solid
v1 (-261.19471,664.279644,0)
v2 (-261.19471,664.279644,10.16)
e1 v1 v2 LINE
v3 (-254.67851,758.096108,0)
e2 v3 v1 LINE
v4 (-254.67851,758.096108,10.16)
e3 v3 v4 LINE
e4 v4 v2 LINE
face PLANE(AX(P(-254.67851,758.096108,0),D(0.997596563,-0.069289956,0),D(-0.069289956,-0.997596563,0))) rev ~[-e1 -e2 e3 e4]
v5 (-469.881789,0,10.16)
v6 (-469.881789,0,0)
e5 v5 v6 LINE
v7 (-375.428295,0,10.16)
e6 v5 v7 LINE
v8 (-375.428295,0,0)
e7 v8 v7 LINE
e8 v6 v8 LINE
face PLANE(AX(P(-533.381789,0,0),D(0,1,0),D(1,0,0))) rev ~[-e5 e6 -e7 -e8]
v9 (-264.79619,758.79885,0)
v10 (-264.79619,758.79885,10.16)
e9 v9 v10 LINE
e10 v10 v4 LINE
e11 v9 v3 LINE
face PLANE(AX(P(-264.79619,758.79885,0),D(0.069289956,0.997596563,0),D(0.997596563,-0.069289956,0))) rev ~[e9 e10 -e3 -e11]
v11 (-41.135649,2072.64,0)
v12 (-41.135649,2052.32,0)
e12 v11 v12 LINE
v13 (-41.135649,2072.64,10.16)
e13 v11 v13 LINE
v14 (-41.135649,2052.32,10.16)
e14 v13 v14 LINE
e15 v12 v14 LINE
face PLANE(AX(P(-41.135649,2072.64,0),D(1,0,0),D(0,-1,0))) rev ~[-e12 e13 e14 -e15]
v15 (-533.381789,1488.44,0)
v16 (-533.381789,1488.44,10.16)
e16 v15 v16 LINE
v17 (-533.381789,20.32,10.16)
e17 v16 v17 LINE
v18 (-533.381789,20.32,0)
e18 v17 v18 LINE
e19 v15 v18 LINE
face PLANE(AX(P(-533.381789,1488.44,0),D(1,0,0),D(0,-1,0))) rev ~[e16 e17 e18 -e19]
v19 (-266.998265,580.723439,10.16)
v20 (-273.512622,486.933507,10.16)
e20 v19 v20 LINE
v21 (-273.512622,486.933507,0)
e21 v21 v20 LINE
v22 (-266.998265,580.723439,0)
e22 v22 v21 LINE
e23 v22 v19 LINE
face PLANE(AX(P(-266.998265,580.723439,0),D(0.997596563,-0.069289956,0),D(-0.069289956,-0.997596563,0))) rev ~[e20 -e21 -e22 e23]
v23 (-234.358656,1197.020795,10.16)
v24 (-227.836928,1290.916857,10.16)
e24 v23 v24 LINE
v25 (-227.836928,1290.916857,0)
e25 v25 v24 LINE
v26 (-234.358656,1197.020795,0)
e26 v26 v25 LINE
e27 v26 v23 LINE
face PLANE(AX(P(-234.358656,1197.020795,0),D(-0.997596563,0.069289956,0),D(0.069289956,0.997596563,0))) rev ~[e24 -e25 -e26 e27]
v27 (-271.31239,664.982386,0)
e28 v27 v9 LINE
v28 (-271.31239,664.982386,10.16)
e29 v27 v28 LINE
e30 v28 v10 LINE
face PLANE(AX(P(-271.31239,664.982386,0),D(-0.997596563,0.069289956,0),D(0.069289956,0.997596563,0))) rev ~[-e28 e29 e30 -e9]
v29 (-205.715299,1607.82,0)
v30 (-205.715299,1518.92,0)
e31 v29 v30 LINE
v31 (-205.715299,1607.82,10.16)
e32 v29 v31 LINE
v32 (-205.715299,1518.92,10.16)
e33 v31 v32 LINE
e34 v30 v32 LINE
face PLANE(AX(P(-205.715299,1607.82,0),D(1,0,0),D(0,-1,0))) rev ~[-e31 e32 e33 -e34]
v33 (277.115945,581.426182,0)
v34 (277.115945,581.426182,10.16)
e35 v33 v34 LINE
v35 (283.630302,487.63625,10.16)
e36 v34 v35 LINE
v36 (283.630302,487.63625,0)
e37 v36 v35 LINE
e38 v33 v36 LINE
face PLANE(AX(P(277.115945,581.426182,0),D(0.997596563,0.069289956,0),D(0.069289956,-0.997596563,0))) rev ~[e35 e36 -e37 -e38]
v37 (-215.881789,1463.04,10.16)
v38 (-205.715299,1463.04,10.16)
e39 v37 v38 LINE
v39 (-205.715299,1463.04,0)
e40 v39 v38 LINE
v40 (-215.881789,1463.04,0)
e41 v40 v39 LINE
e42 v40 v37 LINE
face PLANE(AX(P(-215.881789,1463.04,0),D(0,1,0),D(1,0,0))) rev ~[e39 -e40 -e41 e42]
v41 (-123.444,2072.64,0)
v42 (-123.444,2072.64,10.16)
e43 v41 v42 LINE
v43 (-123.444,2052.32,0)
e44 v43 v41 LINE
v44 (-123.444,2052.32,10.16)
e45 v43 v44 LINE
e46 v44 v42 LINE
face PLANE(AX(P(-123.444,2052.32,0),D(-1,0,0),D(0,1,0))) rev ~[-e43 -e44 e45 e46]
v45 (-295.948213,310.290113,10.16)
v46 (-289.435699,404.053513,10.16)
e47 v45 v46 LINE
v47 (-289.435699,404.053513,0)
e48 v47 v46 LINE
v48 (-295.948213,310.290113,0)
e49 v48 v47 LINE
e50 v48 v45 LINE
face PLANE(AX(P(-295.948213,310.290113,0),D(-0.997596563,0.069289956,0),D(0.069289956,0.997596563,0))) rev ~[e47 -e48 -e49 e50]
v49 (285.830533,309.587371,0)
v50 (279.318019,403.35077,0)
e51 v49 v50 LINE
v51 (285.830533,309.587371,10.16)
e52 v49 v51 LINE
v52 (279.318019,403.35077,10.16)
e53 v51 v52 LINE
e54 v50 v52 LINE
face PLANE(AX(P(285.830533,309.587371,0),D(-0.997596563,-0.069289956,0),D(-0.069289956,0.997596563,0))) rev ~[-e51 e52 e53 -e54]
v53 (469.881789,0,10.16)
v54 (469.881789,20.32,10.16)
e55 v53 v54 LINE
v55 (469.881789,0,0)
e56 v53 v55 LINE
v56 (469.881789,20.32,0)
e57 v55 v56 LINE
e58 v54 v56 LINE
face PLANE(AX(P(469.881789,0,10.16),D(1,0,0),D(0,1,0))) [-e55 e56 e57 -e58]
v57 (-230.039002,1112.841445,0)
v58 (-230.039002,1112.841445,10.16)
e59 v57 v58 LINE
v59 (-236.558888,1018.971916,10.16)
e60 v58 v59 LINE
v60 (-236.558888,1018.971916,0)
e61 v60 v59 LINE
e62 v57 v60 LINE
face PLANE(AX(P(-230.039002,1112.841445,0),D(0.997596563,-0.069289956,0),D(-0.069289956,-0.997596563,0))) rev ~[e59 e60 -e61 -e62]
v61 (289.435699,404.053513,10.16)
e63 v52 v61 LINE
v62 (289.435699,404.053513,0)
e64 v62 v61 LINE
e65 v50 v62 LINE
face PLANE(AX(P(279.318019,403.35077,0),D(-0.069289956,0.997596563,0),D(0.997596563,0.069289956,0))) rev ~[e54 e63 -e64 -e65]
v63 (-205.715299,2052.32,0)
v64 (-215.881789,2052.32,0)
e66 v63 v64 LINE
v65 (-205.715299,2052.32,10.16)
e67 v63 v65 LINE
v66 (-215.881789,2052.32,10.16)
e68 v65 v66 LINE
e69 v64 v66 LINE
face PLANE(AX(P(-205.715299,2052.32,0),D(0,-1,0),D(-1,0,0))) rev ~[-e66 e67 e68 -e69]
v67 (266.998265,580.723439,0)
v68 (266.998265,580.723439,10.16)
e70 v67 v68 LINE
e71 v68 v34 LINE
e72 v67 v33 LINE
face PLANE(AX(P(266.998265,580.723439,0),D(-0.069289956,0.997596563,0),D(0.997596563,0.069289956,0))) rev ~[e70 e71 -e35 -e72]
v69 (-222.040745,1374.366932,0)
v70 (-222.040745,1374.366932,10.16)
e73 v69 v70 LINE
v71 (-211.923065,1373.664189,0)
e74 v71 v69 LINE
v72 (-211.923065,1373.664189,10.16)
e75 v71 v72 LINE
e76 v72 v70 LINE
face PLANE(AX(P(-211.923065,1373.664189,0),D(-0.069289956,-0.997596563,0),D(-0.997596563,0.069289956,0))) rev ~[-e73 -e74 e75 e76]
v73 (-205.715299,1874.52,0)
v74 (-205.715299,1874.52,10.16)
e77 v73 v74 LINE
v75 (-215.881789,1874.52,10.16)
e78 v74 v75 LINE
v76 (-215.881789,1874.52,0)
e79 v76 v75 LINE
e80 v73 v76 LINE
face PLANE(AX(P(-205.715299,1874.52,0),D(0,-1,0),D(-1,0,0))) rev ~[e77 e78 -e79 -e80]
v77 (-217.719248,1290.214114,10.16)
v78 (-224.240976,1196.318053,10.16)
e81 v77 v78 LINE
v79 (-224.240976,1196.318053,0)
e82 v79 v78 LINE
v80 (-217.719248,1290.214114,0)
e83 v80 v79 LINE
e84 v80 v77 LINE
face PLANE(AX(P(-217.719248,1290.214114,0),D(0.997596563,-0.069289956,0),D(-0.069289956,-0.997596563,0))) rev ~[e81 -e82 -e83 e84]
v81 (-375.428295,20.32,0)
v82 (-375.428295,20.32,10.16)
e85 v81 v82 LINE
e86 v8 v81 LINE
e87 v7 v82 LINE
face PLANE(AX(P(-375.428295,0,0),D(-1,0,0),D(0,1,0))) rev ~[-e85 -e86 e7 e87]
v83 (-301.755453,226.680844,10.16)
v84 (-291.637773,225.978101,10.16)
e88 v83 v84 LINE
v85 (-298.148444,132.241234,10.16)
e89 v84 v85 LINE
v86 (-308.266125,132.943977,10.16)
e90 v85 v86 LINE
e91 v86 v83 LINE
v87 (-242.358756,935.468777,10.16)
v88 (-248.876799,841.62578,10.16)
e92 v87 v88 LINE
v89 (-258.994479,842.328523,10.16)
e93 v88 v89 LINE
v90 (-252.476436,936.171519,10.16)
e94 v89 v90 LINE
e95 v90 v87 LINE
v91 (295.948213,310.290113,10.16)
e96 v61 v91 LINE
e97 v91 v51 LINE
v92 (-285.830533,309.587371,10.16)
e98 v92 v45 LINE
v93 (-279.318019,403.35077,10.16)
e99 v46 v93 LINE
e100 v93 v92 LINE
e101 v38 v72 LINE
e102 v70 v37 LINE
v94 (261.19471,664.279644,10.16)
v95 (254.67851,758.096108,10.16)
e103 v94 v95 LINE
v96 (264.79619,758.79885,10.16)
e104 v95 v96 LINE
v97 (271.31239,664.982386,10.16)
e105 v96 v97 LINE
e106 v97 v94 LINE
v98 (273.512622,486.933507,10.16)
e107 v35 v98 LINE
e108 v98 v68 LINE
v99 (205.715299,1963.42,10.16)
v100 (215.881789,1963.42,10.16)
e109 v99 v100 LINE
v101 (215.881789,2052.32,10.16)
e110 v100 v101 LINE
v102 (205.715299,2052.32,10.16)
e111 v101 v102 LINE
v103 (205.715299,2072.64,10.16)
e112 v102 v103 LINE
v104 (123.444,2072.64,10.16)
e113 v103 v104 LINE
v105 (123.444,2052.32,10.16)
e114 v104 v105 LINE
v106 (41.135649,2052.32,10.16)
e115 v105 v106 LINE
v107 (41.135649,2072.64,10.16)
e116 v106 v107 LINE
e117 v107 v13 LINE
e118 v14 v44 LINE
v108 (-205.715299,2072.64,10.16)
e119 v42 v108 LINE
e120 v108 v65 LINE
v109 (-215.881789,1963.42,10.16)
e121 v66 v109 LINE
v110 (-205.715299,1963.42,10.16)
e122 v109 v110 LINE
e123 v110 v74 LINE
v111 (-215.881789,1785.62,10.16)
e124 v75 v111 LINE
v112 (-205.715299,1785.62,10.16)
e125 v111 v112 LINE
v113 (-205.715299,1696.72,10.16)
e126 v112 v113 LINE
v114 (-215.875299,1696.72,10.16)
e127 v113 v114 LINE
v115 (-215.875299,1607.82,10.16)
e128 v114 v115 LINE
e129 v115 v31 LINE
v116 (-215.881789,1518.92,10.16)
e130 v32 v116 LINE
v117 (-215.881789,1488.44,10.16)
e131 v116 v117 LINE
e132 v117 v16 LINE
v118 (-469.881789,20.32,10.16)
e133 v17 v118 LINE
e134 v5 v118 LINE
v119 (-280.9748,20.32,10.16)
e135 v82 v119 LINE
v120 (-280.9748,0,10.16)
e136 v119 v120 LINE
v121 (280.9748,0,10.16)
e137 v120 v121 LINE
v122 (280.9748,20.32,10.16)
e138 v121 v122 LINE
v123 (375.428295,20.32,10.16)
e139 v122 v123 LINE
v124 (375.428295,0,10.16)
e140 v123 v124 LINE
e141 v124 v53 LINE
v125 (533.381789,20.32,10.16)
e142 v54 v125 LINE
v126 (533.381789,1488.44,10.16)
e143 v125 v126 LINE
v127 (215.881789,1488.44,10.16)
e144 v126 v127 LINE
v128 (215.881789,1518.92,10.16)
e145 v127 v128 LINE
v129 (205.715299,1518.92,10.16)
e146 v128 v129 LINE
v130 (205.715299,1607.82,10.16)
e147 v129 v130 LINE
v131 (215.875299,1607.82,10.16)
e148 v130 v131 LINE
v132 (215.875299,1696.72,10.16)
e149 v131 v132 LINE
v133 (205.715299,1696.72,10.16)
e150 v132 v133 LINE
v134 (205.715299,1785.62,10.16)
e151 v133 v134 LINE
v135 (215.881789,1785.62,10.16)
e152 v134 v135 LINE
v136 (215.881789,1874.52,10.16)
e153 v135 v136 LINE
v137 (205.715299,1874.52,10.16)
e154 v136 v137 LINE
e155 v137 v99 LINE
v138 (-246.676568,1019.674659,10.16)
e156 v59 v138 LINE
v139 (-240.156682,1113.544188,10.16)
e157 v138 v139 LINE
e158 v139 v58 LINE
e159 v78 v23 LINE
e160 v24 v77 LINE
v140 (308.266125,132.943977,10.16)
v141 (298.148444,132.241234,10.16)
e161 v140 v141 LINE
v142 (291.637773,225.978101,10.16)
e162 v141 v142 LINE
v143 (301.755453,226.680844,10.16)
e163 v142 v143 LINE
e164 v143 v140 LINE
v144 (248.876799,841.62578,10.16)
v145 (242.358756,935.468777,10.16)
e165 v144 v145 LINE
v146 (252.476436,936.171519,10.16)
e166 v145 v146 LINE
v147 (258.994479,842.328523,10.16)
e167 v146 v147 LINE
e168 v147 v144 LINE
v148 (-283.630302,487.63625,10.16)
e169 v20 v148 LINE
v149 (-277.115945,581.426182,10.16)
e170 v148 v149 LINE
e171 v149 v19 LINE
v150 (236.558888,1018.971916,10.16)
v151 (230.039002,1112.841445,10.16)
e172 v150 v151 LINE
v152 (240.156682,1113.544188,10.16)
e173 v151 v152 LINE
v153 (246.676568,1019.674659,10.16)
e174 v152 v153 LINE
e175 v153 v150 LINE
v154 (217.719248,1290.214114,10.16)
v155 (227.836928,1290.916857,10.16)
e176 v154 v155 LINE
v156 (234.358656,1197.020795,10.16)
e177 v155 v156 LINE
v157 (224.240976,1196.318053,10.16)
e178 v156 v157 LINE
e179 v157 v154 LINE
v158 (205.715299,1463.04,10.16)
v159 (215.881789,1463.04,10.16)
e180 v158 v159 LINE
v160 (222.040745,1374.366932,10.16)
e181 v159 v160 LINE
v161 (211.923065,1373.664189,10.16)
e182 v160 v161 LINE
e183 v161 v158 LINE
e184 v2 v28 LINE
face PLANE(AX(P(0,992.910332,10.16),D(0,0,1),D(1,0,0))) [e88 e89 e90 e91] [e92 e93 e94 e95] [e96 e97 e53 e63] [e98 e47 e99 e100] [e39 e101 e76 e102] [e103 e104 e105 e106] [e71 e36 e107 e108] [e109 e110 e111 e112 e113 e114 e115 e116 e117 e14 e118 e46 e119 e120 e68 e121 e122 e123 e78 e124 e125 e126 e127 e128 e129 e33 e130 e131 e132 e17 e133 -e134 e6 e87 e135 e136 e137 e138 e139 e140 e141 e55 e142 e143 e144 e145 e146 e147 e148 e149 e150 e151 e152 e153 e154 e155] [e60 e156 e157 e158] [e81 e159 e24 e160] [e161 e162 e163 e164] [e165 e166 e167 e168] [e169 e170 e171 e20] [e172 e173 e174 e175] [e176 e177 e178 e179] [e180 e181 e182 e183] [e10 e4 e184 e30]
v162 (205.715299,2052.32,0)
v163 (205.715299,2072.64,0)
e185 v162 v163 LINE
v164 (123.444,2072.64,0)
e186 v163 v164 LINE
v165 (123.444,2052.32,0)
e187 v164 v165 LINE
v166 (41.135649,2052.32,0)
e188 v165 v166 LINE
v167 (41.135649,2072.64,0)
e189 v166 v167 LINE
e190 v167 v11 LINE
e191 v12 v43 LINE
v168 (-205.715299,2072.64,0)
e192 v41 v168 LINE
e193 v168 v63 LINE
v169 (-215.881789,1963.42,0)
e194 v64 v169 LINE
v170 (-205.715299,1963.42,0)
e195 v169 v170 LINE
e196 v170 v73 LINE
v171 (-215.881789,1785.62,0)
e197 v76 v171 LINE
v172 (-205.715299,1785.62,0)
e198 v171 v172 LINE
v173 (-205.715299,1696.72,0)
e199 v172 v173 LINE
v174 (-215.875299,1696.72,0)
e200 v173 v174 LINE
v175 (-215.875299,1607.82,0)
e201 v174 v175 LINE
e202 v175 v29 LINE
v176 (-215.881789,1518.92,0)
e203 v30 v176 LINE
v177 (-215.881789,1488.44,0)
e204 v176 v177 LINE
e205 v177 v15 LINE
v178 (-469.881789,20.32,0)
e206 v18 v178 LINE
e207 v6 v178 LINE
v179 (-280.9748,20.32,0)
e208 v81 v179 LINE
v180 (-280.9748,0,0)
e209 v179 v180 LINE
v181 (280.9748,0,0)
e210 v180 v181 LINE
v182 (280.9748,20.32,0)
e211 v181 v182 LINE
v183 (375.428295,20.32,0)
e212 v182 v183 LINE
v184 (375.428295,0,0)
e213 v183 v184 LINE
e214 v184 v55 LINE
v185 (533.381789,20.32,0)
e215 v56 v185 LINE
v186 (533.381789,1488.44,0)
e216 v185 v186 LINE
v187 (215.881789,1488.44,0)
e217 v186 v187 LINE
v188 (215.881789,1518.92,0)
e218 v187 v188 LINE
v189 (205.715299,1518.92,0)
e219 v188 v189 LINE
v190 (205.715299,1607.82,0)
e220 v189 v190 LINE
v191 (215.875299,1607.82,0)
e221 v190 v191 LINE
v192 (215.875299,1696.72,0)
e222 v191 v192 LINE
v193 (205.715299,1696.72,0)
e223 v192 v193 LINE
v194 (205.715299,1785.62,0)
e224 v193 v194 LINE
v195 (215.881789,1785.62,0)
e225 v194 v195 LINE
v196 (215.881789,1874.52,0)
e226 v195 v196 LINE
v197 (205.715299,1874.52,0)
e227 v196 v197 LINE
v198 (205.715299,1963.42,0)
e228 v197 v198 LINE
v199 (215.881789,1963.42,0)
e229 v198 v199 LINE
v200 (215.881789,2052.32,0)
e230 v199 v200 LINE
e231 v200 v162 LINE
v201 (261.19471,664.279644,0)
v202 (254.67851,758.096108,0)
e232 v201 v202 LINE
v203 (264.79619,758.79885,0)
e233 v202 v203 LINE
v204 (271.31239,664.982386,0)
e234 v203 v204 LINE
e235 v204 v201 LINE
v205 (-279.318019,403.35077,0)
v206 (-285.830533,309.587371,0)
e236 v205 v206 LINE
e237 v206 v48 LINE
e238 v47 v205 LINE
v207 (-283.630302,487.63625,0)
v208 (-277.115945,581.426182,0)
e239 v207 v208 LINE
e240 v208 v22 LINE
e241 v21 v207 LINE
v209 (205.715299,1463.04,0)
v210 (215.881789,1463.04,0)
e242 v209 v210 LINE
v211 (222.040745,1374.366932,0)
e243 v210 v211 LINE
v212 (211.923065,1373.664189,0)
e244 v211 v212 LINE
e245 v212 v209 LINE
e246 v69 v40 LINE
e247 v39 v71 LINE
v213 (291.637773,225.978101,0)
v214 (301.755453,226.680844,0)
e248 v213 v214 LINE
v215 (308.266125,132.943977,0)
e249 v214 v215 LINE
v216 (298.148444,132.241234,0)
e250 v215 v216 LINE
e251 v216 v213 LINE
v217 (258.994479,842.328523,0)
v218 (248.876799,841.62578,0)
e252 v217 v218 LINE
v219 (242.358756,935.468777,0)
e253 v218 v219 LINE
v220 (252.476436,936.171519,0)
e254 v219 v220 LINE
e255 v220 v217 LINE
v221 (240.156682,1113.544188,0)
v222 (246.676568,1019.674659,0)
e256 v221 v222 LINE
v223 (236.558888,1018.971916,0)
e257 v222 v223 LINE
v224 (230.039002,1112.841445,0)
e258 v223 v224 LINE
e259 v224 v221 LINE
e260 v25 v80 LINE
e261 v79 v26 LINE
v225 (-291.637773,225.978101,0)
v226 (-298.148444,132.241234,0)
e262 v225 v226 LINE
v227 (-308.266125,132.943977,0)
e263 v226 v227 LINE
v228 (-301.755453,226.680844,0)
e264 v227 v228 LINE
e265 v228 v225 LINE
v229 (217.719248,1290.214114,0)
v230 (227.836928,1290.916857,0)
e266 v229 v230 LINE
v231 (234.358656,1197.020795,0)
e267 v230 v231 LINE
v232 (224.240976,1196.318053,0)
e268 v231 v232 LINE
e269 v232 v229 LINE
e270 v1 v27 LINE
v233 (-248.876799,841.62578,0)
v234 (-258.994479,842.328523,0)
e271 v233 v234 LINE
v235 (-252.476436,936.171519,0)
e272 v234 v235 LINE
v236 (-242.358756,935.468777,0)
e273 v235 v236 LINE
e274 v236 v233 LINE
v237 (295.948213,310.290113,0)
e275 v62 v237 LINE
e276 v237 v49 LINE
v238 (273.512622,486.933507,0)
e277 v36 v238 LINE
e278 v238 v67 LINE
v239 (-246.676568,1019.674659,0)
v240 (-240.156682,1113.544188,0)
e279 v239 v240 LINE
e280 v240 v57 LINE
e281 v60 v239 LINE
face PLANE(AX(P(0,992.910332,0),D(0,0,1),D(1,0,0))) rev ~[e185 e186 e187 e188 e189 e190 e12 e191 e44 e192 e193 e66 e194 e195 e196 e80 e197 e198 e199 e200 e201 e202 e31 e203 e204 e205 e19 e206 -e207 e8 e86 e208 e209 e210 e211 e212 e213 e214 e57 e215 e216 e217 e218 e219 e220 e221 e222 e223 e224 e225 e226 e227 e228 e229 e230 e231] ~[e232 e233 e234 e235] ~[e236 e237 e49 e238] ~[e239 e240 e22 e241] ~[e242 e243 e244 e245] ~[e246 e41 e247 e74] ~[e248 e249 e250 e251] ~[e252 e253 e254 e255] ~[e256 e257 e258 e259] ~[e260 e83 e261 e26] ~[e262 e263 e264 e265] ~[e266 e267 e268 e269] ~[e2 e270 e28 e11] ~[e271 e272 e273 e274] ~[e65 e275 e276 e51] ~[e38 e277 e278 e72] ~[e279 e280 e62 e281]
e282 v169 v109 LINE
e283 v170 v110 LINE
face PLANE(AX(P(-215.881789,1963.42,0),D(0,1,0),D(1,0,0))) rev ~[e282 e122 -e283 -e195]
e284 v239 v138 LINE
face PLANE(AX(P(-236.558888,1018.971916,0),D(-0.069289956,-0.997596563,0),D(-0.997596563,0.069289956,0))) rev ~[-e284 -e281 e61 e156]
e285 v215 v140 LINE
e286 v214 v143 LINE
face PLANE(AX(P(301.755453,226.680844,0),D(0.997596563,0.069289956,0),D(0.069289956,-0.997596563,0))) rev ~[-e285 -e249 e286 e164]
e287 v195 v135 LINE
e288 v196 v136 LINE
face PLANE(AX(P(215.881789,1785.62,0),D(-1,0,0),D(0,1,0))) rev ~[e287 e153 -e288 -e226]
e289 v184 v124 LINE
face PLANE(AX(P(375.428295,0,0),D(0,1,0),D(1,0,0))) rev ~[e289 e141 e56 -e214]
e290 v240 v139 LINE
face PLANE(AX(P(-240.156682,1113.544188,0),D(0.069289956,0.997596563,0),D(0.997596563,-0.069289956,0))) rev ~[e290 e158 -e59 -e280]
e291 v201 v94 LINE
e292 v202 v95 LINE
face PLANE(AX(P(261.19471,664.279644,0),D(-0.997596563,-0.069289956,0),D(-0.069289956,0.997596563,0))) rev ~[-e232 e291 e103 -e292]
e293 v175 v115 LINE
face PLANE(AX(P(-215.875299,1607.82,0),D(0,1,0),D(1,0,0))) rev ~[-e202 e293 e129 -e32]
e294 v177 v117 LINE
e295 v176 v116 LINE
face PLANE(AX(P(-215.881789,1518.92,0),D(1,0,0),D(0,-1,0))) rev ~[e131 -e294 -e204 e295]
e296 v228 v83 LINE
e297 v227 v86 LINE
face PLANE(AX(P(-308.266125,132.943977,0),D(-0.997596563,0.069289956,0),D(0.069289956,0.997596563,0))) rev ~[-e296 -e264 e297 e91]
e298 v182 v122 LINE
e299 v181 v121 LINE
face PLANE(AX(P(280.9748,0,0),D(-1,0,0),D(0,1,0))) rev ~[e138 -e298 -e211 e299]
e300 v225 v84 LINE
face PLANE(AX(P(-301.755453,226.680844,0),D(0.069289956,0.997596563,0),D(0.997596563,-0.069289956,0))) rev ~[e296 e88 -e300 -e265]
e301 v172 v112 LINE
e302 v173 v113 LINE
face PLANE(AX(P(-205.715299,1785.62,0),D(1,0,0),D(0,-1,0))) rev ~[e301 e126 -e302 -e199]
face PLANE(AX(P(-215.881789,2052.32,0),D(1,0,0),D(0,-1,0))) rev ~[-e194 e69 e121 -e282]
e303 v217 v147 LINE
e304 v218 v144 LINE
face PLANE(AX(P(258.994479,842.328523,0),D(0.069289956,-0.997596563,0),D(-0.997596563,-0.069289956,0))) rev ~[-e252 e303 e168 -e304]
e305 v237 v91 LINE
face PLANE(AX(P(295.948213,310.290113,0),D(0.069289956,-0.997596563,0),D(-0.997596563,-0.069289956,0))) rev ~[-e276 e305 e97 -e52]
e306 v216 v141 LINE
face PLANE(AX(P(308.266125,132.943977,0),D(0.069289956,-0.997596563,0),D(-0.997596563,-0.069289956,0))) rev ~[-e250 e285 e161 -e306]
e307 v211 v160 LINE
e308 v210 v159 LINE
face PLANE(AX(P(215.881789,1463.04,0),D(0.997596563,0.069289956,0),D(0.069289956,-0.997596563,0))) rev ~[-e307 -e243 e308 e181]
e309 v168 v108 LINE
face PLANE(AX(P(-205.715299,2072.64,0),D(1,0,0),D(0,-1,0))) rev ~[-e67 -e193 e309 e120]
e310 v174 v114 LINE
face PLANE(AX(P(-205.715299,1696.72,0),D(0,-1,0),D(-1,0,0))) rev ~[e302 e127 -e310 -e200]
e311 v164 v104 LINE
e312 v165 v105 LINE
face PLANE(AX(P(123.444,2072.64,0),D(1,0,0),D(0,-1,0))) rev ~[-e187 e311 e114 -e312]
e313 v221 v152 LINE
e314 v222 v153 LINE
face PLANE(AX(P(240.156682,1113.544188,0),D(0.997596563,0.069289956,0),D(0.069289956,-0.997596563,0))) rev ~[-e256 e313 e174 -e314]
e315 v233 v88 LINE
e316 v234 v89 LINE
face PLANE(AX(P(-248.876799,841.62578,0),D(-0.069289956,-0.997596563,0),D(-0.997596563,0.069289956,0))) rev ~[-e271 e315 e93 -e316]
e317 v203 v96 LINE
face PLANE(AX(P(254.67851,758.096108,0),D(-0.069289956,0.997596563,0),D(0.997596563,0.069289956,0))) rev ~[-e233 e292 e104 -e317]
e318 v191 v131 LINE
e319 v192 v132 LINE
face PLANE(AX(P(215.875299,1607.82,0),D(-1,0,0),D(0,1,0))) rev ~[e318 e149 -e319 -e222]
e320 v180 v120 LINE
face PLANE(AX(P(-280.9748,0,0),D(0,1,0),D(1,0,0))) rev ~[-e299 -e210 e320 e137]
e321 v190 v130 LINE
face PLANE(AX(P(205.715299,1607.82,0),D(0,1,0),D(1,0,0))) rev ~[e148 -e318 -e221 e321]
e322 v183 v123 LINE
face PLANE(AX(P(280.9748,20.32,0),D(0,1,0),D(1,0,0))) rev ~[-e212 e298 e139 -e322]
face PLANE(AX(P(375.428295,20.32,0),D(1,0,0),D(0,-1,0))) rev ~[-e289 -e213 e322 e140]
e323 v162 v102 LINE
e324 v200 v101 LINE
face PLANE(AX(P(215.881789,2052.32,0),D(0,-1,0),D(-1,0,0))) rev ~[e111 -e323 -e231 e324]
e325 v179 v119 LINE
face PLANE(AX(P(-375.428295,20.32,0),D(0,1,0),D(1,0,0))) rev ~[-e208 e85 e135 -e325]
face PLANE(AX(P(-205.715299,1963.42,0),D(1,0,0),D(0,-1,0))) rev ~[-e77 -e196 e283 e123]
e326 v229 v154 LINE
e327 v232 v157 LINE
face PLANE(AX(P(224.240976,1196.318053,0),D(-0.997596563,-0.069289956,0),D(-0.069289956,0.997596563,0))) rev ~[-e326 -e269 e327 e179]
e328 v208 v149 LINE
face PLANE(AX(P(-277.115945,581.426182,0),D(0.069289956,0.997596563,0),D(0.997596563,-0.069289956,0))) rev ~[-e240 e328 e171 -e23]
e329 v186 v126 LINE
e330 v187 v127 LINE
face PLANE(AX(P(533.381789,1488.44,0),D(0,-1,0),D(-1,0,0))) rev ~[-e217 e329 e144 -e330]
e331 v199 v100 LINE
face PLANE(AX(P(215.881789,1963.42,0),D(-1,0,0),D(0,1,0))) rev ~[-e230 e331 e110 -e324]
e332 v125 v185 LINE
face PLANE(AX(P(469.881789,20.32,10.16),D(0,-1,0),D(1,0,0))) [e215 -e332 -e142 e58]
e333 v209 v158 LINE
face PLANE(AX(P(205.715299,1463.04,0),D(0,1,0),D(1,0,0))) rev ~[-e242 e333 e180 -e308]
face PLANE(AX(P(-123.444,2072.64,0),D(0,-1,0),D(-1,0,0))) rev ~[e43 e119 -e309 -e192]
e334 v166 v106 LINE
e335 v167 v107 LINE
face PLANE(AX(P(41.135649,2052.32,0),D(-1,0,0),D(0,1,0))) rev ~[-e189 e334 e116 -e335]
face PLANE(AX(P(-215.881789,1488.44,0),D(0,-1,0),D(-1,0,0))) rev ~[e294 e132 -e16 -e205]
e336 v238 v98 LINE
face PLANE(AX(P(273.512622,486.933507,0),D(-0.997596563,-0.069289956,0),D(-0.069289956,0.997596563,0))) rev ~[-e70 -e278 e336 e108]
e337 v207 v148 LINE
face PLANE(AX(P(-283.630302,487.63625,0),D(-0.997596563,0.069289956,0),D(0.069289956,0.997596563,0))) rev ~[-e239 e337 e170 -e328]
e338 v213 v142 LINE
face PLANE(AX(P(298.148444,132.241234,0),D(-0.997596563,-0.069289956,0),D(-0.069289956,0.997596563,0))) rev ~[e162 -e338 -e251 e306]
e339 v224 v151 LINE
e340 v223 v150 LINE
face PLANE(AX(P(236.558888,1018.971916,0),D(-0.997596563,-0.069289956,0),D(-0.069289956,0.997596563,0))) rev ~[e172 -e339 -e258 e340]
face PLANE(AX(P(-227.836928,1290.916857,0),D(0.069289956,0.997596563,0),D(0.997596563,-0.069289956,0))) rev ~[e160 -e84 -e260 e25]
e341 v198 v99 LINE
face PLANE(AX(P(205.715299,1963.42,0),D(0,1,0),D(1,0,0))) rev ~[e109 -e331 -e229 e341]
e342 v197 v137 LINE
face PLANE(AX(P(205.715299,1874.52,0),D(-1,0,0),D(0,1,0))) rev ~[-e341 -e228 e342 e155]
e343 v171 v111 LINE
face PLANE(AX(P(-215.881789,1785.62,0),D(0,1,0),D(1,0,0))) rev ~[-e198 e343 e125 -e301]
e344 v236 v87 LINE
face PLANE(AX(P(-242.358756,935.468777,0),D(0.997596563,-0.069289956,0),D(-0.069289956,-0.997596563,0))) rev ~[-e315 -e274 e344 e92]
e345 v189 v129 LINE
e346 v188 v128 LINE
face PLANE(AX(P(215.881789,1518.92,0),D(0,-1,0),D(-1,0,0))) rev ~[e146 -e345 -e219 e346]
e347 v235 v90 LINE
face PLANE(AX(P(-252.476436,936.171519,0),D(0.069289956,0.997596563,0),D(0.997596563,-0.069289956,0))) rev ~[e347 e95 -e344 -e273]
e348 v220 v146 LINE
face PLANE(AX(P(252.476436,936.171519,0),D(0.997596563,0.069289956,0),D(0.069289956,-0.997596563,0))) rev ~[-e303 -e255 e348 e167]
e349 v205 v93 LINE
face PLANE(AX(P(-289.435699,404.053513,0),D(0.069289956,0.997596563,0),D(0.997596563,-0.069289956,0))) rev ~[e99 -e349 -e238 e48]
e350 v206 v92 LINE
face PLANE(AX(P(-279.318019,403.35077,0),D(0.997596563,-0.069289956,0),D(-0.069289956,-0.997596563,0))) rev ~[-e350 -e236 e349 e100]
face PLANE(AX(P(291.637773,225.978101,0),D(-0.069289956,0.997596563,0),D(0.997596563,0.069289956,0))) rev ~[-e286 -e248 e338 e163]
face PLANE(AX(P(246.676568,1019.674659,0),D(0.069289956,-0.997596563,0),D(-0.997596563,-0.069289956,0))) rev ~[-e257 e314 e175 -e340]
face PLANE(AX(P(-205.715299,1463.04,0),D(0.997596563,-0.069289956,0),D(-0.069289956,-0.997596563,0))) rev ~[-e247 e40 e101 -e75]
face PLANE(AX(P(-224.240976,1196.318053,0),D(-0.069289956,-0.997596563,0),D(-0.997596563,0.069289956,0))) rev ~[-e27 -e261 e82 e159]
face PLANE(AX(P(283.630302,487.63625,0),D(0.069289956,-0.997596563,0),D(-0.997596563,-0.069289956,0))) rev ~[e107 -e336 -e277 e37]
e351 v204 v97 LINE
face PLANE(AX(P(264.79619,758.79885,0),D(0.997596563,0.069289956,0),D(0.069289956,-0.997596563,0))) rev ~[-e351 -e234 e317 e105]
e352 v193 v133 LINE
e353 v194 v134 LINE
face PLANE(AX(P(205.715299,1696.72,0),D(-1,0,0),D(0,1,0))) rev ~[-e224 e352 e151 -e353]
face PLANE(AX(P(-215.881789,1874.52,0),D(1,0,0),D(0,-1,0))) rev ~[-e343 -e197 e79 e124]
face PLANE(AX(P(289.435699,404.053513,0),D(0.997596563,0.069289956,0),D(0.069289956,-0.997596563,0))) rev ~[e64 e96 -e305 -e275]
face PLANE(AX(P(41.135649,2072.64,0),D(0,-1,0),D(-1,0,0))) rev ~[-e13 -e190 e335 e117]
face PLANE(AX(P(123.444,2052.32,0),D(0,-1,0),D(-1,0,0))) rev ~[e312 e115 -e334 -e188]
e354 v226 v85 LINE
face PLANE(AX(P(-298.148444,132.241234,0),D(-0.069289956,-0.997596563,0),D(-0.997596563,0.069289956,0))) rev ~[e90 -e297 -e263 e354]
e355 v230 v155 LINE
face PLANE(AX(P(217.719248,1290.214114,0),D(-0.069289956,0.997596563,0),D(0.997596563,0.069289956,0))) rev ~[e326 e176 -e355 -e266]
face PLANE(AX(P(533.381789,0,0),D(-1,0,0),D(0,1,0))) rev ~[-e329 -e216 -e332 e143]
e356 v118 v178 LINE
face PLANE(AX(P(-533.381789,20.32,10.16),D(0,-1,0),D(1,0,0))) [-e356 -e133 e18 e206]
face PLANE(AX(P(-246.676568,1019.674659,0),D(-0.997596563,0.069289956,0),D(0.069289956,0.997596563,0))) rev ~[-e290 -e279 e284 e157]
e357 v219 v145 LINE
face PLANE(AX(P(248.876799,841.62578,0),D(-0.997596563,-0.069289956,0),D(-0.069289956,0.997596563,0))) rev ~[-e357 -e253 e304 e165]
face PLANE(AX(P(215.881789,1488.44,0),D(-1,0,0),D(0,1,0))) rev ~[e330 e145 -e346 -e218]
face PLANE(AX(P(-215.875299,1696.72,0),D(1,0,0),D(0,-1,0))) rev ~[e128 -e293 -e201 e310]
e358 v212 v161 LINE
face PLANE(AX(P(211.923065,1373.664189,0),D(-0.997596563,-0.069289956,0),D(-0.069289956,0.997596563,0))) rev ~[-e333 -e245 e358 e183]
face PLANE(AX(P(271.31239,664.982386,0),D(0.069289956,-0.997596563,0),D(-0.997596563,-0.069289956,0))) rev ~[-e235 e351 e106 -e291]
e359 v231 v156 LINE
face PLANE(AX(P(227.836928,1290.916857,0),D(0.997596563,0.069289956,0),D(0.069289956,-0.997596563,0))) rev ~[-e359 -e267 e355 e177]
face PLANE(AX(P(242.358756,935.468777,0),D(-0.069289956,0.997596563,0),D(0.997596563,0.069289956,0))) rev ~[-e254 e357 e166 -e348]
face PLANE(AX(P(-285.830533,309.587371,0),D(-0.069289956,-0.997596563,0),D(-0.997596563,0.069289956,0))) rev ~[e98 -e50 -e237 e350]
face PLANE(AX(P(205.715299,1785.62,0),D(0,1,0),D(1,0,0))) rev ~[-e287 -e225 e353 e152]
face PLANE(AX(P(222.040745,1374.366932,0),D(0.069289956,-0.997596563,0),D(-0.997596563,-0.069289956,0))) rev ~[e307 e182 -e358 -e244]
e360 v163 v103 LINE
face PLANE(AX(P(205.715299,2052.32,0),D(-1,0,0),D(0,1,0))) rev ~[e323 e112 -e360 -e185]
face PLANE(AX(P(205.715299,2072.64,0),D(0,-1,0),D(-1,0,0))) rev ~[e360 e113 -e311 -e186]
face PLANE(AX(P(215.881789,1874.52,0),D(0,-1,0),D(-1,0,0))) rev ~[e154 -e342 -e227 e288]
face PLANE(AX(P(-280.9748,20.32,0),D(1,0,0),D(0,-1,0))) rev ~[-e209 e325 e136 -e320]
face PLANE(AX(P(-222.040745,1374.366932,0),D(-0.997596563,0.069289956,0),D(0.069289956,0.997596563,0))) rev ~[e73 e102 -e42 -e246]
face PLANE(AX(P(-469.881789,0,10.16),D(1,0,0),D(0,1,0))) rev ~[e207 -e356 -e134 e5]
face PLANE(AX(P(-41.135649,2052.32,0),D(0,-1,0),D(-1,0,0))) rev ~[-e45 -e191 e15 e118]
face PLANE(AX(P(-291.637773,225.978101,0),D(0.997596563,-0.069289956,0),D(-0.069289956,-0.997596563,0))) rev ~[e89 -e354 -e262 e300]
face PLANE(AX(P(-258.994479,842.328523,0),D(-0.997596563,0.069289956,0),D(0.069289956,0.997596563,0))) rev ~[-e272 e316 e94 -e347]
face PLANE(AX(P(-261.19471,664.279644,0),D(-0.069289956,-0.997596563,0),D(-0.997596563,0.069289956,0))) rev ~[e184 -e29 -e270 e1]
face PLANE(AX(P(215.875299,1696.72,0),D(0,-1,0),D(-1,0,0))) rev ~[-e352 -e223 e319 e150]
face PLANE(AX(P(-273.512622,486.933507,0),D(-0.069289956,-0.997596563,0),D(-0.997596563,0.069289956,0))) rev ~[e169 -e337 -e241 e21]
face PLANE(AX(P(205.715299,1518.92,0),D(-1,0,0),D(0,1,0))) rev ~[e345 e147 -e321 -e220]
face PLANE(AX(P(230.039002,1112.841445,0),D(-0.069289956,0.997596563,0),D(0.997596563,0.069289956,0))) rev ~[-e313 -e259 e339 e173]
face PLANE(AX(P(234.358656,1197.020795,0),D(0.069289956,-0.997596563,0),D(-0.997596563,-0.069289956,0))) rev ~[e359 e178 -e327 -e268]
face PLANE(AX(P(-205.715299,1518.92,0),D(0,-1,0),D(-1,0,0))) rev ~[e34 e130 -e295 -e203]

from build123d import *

# Parameters (mm, degrees)
BOSS_EXTRUDE1_DEPTH = 10.16
SKETCH5_W           = 63.5
SKETCH5_H           = 20.32
CUT_EXTRUDE1_DEPTH  = 11.16


with BuildPart() as part:
    # Sketch1 → Boss-Extrude1 (new body)
    with BuildSketch(Plane.XY):
        Polygon((-123.444, 2072.64), (-205.715298803, 2072.64), (-205.715298803, 2052.32), (-215.881789204, 2052.32), (-215.881789204, 1963.42), (-205.715298803, 1963.42), (-205.715298803, 1874.52), (-215.881789204, 1874.52), (-215.881789204, 1785.62), (-205.715298803, 1785.62), (-205.715298803, 1696.72), (-215.875298803, 1696.72), (-215.875298803, 1607.82), (-205.715298803, 1607.82), (-205.715298803, 1518.92), (-215.881789204, 1518.92), (-215.881789204, 1488.440000035), (-533.381789204, 1488.440000035), (-533.381789204, 0), (-375.428294602, 0), (-375.428294602, 20.32), (-280.9748, 20.32), (-280.9748, 0), (280.9748, 0), (280.9748, 20.32), (375.428294602, 20.32), (375.428294602, 0), (533.381789204, 0), (533.381789204, 1488.440000035), (215.881789204, 1488.440000035), (215.881789204, 1518.92), (205.715298803, 1518.92), (205.715298803, 1607.82), (215.875298803, 1607.82), (215.875298803, 1696.72), (205.715298803, 1696.72), (205.715298803, 1785.62), (215.881789204, 1785.62), (215.881789204, 1874.52), (205.715298803, 1874.52), (205.715298803, 1963.42), (215.881789204, 1963.42), (215.881789204, 2052.32), (205.715298803, 2052.32), (205.715298803, 2072.64), (123.444, 2072.64), (123.444, 2052.32), (41.135649402, 2052.32), (41.135649402, 2072.64), (-41.135649402, 2072.64), (-41.135649402, 2052.32), (-123.444, 2052.32), align=None)
        Polygon((215.881789204, 1463.040000035), (222.040744894, 1374.366931824), (211.92306481, 1373.664189215), (205.715298803, 1463.040000035), align=None, mode=Mode.SUBTRACT)
        Polygon((-205.715298803, 1463.040000035), (-211.92306481, 1373.664189215), (-222.040744894, 1374.366931824), (-215.881789204, 1463.040000035), align=None, mode=Mode.SUBTRACT)
        Polygon((227.836927701, 1290.916856945), (234.358656272, 1197.020795404), (224.240976188, 1196.318052795), (217.719247617, 1290.214114336), align=None, mode=Mode.SUBTRACT)
        Polygon((-308.266124544, 132.94397688), (-301.755453134, 226.680843836), (-291.63777305, 225.978101227), (-298.14844446, 132.241234271), align=None, mode=Mode.SUBTRACT)
        Polygon((-289.435698895, 404.053512688), (-279.318018811, 403.350770078), (-285.830533081, 309.587370692), (-295.948213166, 310.290113301), align=None, mode=Mode.SUBTRACT)
        Polygon((-283.630301787, 487.636249721), (-277.115944656, 581.426181539), (-266.998264572, 580.72343893), (-273.512621703, 486.933507112), align=None, mode=Mode.SUBTRACT)
        Polygon((-264.796190418, 758.798850391), (-254.678510334, 758.096107781), (-261.194710324, 664.279643533), (-271.312390408, 664.982386142), align=None, mode=Mode.SUBTRACT)
        Polygon((-252.476436179, 936.171519242), (-242.358756095, 935.468776633), (-248.876798945, 841.625779953), (-258.99447903, 842.328522563), align=None, mode=Mode.SUBTRACT)
        Polygon((301.755453134, 226.680843836), (308.266124544, 132.94397688), (298.14844446, 132.241234271), (291.63777305, 225.978101227), align=None, mode=Mode.SUBTRACT)
        Polygon((279.318018811, 403.350770078), (289.435698895, 404.053512688), (295.948213166, 310.290113301), (285.830533081, 309.587370692), align=None, mode=Mode.SUBTRACT)
        Polygon((254.678510334, 758.096107781), (264.796190418, 758.798850391), (271.312390408, 664.982386142), (261.194710324, 664.279643533), align=None, mode=Mode.SUBTRACT)
        Polygon((242.358756095, 935.468776633), (252.476436179, 936.171519242), (258.99447903, 842.328522563), (248.876798945, 841.625779953), align=None, mode=Mode.SUBTRACT)
        Polygon((277.115944656, 581.426181539), (283.630301787, 487.636249721), (273.512621703, 486.933507112), (266.998264572, 580.72343893), align=None, mode=Mode.SUBTRACT)
        Polygon((-240.15668194, 1113.544188093), (-230.039001856, 1112.841445484), (-236.558887567, 1018.971916374), (-246.676567651, 1019.674658983), align=None, mode=Mode.SUBTRACT)
        Polygon((-227.836927701, 1290.916856945), (-217.719247617, 1290.214114336), (-224.240976188, 1196.318052795), (-234.358656272, 1197.020795404), align=None, mode=Mode.SUBTRACT)
        Polygon((230.039001856, 1112.841445484), (240.15668194, 1113.544188093), (246.676567651, 1019.674658983), (236.558887567, 1018.971916374), align=None, mode=Mode.SUBTRACT)
    extrude(amount=BOSS_EXTRUDE1_DEPTH)

    # Sketch5 → Cut-Extrude1 (cut, through all)
    with BuildSketch(Plane.XY.offset(10.16)):
        with Locations((-501.631789204, 10.16)):
            Rectangle(SKETCH5_W, SKETCH5_H)
        with Locations((501.631789204, 10.16)):
            Rectangle(SKETCH5_W, SKETCH5_H)
    extrude(amount=-CUT_EXTRUDE1_DEPTH, mode=Mode.SUBTRACT)


solid = part.part
